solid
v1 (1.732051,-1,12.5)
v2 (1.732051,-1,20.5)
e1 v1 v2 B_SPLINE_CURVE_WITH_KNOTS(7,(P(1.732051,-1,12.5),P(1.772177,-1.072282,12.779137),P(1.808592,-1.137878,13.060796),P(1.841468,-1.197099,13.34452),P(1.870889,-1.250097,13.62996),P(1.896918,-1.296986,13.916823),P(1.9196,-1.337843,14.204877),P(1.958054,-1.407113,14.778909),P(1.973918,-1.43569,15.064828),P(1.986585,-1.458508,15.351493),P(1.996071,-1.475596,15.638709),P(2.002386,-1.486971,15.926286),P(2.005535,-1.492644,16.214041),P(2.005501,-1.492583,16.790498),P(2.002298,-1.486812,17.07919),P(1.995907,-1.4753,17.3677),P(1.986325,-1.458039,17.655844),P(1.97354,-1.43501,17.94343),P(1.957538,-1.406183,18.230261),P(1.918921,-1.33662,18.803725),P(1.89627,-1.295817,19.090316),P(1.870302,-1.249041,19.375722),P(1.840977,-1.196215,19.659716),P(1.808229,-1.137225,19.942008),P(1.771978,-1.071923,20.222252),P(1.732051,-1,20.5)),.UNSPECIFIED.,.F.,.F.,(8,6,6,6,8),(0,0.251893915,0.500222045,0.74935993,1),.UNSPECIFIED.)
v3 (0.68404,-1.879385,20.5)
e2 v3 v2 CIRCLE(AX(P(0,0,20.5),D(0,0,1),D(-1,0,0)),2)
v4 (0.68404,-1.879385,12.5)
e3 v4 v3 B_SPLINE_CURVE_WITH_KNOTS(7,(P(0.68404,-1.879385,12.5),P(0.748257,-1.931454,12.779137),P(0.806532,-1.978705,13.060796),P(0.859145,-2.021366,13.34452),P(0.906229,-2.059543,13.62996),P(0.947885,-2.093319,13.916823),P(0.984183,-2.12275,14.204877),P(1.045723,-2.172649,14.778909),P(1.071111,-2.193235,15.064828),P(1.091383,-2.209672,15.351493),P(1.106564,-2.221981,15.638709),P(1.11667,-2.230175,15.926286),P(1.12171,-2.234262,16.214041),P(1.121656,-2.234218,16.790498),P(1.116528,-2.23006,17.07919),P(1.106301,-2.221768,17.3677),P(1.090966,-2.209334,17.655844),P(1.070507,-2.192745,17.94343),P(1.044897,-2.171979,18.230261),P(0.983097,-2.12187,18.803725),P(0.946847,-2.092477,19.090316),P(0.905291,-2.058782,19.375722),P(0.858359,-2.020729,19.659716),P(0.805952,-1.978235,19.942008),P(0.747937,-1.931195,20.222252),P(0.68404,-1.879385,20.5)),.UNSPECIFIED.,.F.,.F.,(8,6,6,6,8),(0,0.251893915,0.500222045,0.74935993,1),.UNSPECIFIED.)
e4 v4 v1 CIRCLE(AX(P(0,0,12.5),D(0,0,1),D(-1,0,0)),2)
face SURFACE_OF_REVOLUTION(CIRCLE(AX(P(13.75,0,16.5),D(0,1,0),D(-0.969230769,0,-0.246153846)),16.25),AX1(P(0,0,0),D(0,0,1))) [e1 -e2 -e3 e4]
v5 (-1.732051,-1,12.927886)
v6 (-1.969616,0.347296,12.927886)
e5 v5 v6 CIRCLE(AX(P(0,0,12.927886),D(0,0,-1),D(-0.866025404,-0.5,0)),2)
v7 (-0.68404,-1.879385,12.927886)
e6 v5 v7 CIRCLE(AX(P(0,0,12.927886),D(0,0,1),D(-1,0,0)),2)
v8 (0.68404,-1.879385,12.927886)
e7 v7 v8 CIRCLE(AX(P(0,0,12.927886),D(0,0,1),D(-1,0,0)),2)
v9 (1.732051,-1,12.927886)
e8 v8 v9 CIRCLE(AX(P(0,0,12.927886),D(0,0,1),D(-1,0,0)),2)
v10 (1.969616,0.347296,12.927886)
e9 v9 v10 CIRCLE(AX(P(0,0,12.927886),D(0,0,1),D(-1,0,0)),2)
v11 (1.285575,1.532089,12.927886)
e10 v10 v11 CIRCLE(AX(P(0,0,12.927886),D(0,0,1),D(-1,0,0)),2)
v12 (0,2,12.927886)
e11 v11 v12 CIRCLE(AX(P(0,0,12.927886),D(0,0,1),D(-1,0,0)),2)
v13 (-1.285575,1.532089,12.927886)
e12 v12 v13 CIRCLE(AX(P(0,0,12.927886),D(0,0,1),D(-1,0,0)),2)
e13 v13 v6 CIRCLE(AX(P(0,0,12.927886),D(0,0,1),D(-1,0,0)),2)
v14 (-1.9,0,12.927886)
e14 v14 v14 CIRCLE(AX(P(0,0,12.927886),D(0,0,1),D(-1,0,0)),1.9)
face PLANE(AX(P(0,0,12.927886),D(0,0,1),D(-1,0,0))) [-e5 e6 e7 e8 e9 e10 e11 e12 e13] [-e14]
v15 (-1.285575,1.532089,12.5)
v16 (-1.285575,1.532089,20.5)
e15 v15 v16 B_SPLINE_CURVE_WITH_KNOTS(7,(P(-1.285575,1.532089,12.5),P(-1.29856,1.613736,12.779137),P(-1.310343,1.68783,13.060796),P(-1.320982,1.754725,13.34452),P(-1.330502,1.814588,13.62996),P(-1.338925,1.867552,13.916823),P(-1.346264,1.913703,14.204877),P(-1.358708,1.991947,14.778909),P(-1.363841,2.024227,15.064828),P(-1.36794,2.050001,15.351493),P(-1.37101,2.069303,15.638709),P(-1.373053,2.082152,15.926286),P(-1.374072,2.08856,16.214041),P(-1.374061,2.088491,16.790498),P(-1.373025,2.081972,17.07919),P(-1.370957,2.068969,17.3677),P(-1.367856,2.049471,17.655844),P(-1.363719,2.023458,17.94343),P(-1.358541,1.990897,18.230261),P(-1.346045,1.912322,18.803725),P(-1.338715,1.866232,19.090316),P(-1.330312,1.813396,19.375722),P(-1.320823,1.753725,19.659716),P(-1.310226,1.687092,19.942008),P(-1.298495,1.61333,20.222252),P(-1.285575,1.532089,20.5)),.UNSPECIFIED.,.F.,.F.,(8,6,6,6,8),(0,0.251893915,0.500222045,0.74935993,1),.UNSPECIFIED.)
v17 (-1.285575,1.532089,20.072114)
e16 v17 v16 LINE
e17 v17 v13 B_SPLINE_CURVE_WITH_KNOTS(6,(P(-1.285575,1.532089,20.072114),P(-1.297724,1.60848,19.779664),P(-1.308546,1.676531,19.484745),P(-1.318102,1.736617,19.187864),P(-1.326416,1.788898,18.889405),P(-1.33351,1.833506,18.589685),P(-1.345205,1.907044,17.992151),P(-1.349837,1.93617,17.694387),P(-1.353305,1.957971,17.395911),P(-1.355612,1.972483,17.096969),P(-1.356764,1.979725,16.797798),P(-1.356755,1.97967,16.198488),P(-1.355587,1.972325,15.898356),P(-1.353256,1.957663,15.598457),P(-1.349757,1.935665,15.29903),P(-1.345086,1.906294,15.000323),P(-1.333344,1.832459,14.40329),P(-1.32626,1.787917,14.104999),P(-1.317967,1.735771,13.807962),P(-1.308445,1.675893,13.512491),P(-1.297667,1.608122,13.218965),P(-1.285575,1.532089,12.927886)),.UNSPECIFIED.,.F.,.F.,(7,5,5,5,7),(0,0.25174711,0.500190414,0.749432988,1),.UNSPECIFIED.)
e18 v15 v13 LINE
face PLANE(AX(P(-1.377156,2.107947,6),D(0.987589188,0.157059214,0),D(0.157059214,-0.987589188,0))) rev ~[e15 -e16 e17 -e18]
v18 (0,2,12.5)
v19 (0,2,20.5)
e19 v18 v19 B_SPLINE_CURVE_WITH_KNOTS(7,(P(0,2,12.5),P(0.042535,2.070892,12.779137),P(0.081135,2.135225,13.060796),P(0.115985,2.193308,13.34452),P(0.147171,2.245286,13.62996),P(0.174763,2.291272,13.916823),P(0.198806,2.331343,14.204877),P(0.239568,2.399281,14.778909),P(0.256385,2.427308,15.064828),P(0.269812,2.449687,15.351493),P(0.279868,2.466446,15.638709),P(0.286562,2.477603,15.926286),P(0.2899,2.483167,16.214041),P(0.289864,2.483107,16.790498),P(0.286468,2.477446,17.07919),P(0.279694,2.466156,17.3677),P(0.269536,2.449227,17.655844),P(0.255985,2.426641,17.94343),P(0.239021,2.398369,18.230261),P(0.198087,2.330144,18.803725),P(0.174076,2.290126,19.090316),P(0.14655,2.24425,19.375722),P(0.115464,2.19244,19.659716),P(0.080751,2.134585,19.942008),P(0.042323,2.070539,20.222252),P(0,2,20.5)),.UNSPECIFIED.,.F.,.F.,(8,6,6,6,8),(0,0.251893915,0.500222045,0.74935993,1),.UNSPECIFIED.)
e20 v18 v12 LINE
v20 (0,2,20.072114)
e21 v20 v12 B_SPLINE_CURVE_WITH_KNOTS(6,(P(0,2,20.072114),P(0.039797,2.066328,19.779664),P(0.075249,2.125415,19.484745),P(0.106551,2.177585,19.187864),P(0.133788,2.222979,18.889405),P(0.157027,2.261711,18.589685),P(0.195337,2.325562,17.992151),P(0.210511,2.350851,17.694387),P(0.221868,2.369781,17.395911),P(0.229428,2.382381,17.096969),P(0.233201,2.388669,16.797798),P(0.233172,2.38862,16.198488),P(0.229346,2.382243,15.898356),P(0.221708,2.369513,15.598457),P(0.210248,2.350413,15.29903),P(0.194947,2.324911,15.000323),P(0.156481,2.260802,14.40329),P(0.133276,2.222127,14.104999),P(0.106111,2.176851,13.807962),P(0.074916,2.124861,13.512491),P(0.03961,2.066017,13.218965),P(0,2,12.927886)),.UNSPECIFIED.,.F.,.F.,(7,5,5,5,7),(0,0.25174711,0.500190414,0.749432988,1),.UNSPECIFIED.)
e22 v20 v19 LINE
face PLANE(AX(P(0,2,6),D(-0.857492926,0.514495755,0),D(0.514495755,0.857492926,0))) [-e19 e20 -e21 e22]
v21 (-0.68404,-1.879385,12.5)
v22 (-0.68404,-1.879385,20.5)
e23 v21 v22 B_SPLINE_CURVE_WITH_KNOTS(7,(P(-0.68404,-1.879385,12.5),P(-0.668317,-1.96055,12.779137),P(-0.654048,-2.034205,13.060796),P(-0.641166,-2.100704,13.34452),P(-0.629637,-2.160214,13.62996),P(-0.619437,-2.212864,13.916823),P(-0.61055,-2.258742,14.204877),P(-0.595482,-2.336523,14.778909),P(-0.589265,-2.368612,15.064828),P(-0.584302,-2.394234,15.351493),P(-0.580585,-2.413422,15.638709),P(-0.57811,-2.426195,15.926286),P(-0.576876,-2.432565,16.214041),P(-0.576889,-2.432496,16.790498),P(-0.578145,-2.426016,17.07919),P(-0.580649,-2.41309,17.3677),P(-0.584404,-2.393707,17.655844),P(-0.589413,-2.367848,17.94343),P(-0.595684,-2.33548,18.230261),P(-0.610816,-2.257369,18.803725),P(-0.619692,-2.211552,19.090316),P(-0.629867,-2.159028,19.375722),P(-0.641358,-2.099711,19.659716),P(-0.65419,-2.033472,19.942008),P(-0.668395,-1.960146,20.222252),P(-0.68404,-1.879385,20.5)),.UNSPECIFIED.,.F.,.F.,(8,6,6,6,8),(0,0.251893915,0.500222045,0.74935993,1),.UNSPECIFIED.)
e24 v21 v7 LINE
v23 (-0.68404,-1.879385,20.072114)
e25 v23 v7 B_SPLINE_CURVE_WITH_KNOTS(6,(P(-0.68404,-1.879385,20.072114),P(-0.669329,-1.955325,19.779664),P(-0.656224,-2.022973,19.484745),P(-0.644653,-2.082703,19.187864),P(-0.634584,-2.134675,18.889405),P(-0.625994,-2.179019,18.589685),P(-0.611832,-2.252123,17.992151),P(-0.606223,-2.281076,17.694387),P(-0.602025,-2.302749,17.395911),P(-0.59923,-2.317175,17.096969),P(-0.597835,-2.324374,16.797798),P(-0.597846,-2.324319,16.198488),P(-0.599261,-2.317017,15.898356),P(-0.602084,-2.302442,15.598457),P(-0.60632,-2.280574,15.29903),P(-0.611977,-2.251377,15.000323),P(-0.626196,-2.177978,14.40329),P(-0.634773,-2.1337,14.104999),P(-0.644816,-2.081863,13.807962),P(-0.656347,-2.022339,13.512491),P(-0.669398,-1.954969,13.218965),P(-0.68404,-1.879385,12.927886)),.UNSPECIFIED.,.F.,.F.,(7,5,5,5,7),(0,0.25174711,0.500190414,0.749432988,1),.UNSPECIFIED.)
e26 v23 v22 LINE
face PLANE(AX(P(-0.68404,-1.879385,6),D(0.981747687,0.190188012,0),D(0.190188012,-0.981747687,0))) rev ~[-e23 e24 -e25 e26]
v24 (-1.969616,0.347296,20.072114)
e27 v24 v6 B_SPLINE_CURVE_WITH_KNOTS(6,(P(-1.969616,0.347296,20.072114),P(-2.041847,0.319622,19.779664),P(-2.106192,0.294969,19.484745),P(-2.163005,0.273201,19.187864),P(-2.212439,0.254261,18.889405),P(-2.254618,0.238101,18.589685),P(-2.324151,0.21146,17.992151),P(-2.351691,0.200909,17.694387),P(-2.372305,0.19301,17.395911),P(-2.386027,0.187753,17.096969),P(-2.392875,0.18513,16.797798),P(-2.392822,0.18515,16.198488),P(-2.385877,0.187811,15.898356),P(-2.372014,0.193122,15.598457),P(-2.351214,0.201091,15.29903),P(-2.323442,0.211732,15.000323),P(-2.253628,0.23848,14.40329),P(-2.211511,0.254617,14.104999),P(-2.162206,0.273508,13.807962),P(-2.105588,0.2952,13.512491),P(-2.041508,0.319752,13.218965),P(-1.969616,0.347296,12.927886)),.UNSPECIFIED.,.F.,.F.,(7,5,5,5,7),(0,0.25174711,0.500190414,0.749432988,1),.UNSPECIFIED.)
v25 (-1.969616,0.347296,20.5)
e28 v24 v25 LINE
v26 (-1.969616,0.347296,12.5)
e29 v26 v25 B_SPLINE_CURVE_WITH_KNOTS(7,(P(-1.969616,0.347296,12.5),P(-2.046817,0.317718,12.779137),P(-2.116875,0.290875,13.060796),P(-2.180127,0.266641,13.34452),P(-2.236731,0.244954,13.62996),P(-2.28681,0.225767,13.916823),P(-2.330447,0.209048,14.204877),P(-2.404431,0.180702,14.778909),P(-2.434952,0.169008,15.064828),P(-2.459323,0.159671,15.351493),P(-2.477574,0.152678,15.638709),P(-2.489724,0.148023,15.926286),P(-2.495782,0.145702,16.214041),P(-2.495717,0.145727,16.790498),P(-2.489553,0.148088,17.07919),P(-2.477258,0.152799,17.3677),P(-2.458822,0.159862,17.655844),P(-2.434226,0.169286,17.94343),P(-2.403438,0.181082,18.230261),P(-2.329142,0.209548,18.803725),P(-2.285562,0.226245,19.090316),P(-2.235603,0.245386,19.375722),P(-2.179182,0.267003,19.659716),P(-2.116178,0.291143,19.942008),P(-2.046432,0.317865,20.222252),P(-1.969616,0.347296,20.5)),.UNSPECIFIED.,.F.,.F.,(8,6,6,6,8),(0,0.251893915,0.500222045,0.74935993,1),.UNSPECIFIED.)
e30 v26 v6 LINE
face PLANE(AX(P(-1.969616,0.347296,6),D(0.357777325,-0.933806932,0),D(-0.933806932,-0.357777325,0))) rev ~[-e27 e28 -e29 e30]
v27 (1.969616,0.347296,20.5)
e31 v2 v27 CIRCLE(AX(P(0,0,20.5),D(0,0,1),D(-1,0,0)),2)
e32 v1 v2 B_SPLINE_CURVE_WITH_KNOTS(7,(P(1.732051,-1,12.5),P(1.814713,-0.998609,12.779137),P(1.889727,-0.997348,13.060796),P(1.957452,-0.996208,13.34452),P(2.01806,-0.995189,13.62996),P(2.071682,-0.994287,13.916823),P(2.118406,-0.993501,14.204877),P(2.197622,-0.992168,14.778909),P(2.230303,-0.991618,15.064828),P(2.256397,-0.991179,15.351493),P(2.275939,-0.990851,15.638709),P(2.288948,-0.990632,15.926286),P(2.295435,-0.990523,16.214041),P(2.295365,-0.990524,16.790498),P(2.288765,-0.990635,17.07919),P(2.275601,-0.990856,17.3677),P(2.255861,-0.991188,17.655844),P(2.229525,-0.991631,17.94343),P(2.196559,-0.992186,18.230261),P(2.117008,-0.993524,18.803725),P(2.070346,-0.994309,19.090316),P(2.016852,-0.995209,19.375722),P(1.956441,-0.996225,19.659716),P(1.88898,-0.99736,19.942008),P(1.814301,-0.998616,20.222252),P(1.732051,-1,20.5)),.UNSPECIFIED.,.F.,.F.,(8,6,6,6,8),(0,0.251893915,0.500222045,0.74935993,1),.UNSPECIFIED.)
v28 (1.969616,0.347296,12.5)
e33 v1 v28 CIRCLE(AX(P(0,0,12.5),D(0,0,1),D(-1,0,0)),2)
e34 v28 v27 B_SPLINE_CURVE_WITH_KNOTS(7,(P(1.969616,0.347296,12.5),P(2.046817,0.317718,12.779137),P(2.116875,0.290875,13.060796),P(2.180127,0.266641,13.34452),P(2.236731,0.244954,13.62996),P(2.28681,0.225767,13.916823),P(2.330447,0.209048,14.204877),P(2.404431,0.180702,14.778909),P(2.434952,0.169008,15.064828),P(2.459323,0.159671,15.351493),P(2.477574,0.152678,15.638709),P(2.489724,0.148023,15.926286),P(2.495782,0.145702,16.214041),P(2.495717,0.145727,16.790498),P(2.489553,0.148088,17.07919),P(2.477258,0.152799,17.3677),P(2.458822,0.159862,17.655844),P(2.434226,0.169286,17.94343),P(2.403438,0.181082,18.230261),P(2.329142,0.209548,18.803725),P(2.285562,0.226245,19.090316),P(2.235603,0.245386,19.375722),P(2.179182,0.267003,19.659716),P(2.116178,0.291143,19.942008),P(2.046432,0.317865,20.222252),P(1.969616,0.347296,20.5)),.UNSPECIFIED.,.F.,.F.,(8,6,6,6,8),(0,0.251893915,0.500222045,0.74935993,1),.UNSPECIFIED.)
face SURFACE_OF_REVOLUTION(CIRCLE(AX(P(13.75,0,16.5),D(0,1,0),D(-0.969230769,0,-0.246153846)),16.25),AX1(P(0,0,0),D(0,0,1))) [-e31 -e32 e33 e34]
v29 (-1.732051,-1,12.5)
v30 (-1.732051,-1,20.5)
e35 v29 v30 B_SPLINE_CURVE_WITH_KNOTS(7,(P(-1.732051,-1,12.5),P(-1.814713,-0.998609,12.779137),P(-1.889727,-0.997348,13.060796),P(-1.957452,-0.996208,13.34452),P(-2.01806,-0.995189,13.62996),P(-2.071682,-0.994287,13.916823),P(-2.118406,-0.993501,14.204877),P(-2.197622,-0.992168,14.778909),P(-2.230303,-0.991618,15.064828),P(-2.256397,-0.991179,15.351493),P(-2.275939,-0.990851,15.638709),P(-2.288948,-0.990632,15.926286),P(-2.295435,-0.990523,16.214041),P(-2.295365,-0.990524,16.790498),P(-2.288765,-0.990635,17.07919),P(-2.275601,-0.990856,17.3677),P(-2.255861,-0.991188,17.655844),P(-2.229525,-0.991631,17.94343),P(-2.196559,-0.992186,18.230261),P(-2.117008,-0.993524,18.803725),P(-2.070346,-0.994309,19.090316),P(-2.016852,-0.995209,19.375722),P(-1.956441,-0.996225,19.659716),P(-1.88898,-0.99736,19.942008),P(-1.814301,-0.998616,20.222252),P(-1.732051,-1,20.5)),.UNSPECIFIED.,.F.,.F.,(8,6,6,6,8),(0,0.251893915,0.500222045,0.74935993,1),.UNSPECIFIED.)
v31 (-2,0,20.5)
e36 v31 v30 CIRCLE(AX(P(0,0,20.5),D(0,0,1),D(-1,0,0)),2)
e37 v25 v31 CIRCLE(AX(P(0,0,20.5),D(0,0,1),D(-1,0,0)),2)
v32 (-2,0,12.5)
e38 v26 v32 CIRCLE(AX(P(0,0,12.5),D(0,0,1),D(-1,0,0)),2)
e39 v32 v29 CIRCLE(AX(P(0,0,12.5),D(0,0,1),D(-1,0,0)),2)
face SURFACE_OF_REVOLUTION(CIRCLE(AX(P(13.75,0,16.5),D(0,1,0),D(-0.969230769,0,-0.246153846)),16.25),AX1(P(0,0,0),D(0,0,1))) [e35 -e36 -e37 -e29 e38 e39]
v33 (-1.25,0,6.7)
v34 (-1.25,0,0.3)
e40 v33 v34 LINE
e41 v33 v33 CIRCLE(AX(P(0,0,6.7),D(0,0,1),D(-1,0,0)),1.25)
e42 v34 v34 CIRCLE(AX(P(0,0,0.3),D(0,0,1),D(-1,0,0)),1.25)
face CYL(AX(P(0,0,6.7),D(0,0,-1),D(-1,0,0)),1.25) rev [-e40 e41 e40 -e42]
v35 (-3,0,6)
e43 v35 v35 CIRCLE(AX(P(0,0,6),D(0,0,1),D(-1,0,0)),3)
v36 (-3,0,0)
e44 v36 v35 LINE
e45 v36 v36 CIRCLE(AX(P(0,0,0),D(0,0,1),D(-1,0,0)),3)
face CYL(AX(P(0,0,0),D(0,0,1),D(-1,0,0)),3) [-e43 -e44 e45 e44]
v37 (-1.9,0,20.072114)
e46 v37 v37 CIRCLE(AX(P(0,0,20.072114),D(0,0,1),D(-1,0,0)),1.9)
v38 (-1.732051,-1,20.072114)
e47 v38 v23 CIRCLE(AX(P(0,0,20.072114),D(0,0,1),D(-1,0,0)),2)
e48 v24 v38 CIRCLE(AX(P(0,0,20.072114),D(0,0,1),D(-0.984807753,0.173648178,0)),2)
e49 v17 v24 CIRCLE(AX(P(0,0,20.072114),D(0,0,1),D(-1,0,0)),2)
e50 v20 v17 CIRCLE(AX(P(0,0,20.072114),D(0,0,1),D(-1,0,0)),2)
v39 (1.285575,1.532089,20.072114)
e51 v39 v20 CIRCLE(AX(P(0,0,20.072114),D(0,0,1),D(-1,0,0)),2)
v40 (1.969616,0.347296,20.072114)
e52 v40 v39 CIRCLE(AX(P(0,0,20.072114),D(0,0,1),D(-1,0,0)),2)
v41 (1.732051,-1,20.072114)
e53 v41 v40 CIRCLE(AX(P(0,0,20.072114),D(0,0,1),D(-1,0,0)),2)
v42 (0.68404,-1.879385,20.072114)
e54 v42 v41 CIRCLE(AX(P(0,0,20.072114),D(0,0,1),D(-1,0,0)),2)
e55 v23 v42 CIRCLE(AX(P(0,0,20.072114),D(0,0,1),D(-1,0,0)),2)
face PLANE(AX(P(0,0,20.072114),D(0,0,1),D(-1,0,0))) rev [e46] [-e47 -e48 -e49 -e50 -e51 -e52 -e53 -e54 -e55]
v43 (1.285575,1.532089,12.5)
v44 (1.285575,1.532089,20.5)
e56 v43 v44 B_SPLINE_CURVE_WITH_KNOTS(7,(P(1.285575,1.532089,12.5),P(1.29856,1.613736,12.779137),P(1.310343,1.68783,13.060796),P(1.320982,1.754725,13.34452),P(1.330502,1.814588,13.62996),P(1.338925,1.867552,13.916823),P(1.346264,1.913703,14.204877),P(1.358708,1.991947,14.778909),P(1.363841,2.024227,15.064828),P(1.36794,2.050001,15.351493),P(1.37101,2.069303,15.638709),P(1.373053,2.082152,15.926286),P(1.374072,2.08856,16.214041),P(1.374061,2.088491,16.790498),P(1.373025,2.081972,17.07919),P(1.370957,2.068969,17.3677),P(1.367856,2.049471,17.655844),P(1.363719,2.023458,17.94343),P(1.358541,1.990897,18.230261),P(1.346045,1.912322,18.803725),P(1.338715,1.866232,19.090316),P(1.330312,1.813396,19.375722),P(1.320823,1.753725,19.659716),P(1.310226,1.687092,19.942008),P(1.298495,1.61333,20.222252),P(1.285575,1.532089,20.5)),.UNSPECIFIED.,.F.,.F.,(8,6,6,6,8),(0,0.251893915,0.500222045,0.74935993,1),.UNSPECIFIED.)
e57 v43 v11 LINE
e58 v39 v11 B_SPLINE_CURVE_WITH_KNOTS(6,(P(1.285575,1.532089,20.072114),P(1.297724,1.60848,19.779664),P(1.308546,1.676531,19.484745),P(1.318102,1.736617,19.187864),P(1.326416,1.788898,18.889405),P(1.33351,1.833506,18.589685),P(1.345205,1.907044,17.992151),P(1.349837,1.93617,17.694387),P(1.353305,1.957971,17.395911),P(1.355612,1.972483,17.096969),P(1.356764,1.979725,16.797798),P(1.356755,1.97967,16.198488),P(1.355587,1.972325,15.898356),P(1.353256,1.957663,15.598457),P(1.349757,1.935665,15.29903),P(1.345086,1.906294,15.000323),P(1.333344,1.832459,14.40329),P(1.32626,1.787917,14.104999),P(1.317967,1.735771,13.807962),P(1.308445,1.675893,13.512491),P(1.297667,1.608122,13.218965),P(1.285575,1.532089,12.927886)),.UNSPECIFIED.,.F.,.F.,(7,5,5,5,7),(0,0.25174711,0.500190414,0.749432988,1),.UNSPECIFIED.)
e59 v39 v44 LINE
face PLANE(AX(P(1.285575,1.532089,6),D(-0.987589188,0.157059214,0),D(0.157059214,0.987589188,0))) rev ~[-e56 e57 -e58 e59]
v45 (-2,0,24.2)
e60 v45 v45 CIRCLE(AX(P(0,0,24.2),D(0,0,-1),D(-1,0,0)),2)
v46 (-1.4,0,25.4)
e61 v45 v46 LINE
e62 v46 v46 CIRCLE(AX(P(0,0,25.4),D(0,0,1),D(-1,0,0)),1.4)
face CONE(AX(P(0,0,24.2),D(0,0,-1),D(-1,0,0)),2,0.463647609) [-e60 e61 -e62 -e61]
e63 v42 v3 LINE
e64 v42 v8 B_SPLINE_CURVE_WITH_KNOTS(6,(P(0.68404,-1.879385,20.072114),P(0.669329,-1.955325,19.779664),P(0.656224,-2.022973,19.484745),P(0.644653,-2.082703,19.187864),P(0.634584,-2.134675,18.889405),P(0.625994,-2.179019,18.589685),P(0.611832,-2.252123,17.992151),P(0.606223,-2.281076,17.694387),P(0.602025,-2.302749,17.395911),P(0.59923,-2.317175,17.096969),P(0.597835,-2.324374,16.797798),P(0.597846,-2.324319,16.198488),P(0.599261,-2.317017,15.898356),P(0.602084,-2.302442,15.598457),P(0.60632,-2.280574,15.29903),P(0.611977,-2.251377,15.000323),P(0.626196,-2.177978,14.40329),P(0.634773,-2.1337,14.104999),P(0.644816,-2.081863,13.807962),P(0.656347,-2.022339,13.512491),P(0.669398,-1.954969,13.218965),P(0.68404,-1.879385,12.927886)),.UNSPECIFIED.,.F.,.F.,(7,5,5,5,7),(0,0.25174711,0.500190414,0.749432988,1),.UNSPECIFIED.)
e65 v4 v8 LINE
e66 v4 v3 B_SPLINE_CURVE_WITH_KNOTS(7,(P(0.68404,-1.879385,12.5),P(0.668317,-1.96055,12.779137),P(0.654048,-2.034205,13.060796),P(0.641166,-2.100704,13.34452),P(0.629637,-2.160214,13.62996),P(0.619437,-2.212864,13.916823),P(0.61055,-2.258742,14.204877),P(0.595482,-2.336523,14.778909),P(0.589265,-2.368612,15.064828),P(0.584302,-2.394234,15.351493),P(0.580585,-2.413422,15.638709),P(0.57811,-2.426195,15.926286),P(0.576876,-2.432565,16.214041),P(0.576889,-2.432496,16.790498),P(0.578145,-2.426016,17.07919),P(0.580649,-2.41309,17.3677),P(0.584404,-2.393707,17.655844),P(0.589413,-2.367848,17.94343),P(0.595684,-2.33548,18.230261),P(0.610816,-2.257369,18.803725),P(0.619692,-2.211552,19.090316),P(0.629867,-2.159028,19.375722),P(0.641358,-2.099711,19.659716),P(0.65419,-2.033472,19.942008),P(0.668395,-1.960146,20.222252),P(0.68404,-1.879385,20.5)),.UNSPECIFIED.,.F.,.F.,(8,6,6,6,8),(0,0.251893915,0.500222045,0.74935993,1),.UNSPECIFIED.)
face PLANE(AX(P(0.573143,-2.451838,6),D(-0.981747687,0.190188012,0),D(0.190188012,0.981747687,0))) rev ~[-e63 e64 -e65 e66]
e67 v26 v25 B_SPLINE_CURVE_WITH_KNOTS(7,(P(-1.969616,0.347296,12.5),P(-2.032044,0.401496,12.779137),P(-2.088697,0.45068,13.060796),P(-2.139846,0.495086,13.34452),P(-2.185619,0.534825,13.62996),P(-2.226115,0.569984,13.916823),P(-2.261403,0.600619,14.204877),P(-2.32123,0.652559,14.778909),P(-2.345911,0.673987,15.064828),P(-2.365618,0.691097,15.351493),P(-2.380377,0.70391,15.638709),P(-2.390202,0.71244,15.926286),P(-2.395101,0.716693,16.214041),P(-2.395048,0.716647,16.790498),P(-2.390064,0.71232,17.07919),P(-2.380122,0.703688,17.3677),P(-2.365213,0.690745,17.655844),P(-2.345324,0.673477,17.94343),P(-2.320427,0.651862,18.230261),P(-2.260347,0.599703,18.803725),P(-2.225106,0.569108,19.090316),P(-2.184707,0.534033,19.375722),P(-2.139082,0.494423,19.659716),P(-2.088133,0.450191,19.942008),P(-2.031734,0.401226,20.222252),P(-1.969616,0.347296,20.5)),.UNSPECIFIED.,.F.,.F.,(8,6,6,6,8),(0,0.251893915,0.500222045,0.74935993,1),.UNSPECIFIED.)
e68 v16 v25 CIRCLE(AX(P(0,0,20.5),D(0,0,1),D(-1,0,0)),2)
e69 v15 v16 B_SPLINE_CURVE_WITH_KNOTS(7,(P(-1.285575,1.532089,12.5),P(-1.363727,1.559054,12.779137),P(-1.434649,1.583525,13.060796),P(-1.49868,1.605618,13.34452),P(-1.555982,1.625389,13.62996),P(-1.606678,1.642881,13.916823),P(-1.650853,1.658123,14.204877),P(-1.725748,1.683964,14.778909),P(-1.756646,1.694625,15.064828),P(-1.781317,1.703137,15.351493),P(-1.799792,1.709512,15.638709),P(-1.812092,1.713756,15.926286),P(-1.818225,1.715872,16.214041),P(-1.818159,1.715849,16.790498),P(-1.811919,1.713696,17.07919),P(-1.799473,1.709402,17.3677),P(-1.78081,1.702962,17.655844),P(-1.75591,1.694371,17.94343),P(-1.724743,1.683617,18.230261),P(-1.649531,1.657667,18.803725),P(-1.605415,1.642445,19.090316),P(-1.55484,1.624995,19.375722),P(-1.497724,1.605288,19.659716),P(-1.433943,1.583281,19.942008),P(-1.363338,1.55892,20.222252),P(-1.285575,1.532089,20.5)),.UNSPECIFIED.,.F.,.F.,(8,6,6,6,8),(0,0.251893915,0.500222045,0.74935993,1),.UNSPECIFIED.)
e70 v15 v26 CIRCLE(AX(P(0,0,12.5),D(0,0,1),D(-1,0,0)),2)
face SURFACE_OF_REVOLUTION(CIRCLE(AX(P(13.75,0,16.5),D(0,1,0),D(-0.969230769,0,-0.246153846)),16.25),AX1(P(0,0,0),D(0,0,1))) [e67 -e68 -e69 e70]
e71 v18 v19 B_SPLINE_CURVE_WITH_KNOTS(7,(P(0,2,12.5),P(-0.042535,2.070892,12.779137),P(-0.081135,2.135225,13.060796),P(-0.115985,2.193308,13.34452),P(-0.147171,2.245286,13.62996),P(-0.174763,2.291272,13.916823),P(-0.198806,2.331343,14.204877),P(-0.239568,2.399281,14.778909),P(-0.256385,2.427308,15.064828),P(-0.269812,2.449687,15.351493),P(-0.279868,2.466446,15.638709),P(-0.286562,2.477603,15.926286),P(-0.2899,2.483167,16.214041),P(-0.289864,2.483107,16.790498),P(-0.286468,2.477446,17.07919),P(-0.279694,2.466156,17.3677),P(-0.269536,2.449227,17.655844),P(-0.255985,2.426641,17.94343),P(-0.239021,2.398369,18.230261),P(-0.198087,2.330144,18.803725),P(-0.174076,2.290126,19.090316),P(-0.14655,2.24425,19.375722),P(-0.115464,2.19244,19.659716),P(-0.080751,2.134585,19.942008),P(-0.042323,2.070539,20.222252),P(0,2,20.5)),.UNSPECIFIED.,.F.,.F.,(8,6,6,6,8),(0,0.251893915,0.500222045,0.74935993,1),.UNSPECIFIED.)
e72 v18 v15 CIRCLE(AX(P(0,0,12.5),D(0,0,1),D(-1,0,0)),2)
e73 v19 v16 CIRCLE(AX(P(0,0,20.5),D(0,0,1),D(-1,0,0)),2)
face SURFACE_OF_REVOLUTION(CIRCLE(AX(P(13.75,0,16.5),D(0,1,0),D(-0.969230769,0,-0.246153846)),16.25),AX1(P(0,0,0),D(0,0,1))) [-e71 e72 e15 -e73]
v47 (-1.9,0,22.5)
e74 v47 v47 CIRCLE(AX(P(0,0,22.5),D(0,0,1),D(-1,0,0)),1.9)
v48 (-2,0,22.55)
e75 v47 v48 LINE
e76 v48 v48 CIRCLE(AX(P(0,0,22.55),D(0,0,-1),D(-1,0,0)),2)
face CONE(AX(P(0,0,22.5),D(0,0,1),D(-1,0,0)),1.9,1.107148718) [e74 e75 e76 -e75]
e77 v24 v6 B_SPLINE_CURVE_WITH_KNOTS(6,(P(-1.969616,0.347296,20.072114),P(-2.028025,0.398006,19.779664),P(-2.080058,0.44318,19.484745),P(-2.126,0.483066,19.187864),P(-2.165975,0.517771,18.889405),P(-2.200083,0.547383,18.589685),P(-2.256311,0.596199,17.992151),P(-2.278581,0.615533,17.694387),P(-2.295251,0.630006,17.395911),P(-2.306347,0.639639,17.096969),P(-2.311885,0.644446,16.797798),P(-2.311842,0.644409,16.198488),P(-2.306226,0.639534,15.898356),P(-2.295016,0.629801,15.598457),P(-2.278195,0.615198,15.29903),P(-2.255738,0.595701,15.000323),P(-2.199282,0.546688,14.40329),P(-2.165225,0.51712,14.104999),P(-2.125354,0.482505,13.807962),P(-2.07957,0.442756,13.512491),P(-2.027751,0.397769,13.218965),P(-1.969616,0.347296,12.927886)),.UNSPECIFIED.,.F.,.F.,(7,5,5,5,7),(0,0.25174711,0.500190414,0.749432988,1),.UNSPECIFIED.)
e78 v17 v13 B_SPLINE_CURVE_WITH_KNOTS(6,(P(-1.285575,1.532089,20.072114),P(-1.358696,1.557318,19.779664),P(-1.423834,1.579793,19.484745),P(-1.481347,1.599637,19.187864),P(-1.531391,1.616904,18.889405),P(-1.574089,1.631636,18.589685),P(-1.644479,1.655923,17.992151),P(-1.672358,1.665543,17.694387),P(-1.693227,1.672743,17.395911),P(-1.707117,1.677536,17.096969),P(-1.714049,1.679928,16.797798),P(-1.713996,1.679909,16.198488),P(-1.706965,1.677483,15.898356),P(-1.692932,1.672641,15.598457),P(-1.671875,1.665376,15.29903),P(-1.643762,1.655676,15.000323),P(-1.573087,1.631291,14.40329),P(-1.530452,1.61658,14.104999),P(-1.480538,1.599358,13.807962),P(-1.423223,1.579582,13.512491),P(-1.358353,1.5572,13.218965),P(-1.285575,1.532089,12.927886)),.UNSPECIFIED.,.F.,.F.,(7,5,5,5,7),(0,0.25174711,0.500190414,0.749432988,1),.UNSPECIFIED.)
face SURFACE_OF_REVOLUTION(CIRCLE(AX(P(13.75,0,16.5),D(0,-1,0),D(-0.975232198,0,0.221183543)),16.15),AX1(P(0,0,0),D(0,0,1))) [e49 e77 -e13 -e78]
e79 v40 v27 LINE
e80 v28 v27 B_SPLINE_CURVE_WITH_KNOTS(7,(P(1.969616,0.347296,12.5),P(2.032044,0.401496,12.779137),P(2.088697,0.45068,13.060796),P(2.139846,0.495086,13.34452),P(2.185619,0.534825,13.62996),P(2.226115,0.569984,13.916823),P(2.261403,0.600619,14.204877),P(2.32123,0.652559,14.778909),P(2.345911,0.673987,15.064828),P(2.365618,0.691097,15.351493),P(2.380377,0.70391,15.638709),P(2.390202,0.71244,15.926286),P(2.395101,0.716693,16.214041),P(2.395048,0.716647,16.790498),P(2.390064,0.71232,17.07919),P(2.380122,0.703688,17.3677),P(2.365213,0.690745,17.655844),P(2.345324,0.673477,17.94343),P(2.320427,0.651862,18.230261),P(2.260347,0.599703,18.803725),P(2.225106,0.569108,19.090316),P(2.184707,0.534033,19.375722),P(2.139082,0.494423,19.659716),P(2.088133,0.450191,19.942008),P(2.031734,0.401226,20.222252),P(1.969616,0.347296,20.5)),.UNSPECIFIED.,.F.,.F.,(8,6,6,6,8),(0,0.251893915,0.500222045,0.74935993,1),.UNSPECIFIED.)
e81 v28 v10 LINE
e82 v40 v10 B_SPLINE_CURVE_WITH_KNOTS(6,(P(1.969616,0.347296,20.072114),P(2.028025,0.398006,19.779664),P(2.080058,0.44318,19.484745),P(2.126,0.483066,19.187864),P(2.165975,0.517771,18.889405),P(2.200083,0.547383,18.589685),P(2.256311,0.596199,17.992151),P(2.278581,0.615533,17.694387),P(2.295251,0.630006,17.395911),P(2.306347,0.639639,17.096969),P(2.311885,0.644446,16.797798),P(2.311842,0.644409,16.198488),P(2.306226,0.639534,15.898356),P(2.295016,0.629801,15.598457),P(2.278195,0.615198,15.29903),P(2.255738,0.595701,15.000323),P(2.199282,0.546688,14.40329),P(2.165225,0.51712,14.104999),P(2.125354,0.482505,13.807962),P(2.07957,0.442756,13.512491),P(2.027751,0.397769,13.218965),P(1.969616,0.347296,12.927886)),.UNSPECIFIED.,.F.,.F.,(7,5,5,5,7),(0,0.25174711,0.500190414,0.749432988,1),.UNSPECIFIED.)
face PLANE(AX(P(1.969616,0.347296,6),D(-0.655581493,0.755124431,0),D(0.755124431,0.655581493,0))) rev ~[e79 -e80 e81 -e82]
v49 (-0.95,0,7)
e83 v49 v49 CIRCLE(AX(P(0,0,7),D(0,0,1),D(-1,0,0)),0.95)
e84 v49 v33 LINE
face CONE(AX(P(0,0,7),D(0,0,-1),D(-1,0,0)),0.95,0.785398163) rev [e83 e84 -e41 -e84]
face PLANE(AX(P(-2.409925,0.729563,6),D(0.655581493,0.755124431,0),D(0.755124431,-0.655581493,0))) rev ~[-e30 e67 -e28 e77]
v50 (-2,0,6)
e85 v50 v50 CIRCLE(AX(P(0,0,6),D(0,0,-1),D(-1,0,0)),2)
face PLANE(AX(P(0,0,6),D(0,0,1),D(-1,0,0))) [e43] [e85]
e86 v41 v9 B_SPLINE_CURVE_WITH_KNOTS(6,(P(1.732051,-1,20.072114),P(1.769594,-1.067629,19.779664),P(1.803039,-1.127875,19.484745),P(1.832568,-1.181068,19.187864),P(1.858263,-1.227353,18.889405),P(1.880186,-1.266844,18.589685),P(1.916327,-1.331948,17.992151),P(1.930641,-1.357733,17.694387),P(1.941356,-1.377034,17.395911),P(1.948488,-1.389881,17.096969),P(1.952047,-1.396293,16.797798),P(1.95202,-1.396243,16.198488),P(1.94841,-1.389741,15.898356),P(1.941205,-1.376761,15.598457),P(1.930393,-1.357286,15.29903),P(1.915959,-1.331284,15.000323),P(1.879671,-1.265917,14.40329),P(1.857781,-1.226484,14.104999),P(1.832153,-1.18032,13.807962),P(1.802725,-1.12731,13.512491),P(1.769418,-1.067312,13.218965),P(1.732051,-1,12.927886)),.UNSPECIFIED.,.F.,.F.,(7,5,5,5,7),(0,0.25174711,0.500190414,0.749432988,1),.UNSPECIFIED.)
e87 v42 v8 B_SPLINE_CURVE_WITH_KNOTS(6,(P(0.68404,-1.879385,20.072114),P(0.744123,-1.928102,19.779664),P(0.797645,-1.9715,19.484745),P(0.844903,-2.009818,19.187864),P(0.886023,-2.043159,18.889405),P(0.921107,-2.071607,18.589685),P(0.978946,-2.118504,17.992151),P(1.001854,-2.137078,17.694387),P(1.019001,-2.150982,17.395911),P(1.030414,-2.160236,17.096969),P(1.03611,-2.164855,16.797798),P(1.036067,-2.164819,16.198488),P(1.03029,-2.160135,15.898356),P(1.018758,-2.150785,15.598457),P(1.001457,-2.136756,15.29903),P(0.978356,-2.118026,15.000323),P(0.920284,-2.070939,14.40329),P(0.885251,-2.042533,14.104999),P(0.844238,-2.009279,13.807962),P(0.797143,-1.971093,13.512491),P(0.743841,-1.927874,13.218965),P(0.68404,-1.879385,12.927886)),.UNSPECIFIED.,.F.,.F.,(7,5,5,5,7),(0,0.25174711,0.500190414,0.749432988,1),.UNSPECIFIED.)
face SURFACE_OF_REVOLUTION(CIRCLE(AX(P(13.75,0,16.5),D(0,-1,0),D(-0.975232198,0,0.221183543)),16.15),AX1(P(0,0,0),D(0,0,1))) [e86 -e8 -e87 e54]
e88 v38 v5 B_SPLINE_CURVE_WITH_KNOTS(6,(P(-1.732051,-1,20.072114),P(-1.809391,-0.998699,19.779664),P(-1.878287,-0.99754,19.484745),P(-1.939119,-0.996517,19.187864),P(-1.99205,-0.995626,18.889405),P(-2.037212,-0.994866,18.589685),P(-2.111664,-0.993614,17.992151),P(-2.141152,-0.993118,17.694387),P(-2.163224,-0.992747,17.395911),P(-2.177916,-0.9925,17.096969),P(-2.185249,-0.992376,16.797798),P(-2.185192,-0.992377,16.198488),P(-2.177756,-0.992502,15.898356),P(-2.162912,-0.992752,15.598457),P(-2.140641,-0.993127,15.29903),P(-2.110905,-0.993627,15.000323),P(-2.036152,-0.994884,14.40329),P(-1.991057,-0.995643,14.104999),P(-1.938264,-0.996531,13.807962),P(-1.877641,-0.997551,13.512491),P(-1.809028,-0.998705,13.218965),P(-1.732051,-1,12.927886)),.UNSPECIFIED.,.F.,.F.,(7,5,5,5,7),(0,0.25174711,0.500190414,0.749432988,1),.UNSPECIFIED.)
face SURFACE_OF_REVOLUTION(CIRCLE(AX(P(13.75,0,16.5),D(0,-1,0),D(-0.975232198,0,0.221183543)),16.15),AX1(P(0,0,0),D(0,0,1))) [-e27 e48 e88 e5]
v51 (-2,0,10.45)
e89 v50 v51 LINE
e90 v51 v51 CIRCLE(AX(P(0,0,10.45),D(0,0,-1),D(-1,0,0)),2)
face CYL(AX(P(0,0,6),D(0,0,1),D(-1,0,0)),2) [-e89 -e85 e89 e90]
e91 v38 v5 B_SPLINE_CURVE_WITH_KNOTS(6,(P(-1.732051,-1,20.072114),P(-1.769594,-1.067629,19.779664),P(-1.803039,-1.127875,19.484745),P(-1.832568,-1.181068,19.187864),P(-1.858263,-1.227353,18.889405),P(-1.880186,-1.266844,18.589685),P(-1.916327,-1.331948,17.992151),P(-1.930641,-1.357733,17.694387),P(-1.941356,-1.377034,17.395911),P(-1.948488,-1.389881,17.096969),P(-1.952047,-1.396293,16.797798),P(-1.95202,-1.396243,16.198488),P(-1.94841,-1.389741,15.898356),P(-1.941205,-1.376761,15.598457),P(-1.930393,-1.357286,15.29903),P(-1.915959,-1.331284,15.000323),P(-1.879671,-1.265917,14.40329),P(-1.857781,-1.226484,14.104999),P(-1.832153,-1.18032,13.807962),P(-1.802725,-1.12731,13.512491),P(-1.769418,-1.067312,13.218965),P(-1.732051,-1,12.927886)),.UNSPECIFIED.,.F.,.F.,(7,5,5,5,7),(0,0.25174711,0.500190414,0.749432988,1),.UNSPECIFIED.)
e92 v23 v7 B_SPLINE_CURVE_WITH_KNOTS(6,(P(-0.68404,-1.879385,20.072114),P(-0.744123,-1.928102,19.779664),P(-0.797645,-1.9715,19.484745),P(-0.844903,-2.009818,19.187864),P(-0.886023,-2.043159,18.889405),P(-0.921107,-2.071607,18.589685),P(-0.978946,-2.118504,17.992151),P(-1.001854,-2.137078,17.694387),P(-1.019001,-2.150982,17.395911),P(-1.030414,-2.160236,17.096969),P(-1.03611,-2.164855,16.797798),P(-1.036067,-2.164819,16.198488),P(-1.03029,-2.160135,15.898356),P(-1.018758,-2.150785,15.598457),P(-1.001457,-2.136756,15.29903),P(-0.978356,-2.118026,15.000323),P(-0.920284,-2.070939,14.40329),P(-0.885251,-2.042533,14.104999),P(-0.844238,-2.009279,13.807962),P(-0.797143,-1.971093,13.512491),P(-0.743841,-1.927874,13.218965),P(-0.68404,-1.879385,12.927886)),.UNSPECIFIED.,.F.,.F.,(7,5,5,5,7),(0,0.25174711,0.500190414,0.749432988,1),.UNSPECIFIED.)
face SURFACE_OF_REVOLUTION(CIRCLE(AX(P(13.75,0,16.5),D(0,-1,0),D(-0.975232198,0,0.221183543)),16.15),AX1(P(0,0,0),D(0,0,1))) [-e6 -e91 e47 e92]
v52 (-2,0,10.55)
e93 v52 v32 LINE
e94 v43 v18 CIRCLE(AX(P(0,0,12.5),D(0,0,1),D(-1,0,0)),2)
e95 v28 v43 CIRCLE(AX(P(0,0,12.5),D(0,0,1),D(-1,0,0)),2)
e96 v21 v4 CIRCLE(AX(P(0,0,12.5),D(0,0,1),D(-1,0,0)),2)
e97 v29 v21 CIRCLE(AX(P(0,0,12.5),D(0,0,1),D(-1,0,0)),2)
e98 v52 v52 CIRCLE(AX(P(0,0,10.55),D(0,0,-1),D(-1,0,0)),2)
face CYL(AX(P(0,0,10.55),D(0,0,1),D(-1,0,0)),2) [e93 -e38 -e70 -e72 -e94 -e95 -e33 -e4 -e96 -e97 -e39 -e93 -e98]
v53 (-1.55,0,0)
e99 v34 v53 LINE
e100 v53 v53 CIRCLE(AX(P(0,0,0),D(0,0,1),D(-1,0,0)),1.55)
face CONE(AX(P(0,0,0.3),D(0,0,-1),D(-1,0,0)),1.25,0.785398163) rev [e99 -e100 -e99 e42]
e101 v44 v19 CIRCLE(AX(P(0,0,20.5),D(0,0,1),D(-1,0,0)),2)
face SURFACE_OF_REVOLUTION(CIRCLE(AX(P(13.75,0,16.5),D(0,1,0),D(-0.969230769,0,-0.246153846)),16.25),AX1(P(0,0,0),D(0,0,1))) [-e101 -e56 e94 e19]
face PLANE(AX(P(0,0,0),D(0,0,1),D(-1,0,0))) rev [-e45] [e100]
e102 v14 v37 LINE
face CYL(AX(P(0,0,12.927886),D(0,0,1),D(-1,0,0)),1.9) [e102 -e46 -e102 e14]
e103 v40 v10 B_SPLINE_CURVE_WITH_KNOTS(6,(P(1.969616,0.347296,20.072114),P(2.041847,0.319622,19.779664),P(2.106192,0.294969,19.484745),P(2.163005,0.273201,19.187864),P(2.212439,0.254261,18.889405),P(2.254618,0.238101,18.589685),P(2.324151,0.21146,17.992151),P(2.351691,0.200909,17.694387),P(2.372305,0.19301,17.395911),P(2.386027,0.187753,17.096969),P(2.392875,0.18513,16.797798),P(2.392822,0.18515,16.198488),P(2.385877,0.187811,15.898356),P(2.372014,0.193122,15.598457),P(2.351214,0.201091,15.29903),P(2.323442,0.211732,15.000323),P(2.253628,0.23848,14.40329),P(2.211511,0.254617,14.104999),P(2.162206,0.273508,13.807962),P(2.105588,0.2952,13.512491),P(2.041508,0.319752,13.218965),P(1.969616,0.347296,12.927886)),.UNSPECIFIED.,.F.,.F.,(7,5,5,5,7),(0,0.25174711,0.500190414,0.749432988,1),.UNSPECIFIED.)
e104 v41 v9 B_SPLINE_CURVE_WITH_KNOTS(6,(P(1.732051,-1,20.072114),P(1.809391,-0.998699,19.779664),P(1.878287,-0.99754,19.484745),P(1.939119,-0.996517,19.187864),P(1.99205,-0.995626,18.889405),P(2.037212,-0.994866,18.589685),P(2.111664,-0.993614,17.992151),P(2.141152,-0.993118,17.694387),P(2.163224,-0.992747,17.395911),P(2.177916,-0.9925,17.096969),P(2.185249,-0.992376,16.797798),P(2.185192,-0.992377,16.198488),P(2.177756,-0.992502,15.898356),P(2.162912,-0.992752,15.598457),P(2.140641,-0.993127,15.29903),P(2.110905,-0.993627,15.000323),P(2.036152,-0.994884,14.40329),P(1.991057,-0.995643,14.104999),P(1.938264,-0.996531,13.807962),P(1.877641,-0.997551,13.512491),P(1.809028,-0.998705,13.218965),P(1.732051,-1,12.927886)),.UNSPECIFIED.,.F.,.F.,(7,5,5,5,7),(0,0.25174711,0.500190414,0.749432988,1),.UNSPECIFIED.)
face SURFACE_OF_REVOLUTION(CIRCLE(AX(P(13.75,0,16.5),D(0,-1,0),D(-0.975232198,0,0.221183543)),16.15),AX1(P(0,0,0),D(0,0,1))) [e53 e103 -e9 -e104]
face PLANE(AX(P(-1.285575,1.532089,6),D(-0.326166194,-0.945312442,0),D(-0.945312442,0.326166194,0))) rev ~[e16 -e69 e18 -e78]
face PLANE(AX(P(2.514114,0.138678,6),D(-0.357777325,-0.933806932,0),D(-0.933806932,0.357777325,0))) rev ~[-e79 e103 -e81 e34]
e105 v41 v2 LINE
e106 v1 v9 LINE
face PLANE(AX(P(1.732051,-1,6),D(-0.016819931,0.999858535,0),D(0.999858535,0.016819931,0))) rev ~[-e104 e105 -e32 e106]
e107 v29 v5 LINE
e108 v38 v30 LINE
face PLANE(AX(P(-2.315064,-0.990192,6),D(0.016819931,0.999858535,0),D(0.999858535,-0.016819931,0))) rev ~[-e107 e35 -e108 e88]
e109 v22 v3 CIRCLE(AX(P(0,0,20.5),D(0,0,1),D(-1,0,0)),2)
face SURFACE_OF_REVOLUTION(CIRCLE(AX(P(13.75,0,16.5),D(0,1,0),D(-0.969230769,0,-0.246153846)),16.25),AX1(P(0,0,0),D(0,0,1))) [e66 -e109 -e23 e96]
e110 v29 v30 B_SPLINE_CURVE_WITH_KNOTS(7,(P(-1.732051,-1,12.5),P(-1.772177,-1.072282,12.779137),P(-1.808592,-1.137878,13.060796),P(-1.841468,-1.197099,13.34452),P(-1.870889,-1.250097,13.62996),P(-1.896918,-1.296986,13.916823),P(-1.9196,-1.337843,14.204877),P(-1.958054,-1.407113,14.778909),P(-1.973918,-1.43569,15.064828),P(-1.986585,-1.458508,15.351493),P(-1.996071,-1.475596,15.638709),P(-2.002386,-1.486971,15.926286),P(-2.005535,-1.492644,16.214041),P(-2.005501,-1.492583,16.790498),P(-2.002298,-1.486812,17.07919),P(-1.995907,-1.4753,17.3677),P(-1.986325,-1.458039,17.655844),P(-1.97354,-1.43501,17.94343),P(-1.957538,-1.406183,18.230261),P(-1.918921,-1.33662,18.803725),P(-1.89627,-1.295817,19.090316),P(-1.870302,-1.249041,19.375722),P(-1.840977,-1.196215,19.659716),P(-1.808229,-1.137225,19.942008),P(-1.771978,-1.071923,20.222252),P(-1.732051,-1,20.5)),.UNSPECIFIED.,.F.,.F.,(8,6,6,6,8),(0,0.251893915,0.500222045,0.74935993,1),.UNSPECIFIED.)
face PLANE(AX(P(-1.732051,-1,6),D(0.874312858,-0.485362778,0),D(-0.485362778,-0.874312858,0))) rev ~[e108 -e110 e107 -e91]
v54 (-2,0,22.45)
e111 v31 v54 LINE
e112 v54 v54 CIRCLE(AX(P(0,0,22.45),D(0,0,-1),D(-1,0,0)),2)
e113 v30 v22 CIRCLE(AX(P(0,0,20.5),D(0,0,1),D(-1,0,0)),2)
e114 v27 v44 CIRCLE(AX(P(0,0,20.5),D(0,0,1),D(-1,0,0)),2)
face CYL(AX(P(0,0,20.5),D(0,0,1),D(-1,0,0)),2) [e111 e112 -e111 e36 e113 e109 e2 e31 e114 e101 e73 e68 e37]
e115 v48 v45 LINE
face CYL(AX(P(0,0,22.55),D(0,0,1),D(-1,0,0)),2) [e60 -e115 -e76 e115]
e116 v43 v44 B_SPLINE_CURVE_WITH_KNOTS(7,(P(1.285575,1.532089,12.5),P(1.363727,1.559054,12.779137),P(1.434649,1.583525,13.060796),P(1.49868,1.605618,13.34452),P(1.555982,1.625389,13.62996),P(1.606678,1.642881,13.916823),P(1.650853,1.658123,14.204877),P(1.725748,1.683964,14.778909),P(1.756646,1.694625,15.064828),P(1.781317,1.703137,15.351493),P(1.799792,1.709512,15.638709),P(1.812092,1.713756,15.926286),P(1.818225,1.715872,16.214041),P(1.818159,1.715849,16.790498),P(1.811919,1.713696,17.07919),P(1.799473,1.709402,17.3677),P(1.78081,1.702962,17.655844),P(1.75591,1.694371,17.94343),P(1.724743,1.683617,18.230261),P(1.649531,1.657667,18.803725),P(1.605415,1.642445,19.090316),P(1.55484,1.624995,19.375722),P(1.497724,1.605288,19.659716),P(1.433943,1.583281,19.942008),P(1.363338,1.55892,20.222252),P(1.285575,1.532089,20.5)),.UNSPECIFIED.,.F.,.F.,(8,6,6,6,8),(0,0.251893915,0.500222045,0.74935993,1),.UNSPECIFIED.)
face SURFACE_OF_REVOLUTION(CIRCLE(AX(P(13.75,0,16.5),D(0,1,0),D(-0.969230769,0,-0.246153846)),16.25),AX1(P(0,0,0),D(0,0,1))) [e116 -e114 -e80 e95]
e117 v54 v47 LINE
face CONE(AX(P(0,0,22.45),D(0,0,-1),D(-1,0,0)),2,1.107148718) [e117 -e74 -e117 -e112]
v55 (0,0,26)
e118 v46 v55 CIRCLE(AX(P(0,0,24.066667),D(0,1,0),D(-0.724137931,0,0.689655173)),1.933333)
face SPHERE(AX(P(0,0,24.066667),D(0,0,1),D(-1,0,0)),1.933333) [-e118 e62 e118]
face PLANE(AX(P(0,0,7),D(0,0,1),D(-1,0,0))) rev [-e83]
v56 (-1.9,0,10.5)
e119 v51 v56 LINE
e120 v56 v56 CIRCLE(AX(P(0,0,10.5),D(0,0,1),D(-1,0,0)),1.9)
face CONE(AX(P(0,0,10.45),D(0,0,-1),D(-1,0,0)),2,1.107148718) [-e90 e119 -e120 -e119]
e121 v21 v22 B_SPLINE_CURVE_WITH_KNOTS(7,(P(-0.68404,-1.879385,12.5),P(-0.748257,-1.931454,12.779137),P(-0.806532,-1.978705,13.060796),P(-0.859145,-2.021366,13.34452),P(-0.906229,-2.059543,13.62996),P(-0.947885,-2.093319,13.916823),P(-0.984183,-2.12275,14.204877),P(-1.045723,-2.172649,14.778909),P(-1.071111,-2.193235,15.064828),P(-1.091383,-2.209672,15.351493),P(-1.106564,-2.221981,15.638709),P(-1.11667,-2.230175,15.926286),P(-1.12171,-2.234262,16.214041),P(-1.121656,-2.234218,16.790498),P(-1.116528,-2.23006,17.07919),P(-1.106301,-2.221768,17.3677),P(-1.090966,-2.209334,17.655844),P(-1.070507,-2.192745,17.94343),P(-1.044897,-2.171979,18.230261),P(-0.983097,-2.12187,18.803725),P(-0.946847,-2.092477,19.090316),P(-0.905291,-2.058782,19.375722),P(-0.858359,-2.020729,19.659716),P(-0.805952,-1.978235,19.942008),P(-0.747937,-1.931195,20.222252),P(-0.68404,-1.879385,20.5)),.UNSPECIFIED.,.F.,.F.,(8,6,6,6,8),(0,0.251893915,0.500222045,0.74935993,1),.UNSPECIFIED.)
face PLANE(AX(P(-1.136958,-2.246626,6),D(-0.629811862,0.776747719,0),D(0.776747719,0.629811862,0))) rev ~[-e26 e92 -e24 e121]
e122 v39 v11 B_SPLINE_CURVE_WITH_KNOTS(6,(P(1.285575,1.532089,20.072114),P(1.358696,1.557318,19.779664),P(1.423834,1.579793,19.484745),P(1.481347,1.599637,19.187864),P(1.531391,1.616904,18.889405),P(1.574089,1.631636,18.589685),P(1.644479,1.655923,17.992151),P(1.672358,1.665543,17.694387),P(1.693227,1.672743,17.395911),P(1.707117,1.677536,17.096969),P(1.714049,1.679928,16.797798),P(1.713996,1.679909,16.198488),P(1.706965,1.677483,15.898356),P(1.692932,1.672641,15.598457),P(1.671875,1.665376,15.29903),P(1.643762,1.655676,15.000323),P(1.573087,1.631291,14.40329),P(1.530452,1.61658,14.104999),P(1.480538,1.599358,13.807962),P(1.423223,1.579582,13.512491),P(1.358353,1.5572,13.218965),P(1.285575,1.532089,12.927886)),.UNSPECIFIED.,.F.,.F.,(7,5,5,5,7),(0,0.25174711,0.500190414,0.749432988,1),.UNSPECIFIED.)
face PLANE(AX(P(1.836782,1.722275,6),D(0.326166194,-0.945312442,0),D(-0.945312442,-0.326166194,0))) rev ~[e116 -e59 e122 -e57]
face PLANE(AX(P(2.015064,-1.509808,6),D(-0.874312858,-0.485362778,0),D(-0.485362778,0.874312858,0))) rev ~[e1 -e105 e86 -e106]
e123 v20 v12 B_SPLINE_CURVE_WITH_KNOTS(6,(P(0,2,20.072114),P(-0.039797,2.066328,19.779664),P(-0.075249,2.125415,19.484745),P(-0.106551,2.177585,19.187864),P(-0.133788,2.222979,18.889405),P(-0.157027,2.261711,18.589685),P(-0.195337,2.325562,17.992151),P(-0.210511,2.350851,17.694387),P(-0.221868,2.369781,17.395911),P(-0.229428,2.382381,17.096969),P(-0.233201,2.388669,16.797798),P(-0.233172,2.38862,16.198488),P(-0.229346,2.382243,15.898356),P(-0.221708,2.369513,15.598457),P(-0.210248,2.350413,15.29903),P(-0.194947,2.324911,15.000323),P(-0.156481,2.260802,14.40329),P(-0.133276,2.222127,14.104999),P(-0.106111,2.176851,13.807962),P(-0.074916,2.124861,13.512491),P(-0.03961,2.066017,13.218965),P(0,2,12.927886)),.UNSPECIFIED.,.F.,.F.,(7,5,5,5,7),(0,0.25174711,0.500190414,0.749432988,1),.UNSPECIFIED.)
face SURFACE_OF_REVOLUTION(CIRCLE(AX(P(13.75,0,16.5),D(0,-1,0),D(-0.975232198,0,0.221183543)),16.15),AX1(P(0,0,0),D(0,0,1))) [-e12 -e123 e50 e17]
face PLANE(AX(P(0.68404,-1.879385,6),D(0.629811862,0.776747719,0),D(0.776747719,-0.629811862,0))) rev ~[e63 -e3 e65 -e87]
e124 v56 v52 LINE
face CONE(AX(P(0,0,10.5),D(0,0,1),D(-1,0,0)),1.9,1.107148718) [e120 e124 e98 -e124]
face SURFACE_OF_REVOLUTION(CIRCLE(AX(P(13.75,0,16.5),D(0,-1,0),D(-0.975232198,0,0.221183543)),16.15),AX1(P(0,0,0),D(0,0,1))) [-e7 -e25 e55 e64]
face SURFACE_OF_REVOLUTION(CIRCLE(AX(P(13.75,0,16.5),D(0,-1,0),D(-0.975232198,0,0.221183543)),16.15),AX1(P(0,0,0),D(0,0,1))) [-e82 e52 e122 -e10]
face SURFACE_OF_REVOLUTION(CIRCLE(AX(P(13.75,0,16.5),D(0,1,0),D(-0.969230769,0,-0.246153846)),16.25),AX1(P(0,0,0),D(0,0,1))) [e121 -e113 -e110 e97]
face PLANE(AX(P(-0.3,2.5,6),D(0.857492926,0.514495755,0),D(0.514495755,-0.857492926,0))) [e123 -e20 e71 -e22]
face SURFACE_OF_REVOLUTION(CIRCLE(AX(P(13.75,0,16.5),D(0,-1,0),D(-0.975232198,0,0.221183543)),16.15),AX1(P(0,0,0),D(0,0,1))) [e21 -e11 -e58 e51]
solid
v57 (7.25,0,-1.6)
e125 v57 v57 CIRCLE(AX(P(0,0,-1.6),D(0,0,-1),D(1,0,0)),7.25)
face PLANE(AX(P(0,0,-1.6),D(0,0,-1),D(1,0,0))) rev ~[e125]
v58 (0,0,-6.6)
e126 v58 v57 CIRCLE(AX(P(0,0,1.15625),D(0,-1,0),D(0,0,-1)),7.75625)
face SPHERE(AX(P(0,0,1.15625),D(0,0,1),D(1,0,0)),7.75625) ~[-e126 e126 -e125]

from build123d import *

# Parameters (mm, degrees)
ENL_V_START             = 6
ENL_V_MAT_EXTRU_2_DEPTH = 21.343879745


with BuildPart() as part:
    # Esquisse1 → base (revolve)
    with BuildSketch(Plane(origin=(0, 0, 0), x_dir=(0, 0, -1), z_dir=(1, 0, 0)), mode=Mode.PRIVATE) as base_sk:
        with BuildLine():
            Line((0, 1.55), (0, 3))
            Line((0, 3), (-6, 3))
            Line((-6, 3), (-6, 2))
            Line((-6, 2), (-10.45, 2))
            Line((-10.45, 2), (-10.5, 1.9))
            Line((-10.5, 1.9), (-10.55, 2))
            Line((-10.55, 2), (-12.5, 2))
            ThreePointArc((-12.5, 2), (-16.5, 2.5), (-20.5, 2))
            Line((-20.5, 2), (-22.45, 2))
            Line((-22.45, 2), (-22.5, 1.9))
            Line((-22.5, 1.9), (-22.55, 2))
            Line((-22.55, 2), (-24.2, 2))
            Line((-24.2, 2), (-25.4, 1.4))
            ThreePointArc((-25.4, 1.4), (-25.843680391, 0.761577311), (-26, 0))
            Line((-26, 0), (-7, 0))
            Line((-7, 0), (-7, 0.95))
            Line((-7, 0.95), (-6.7, 1.25))
            Line((-6.7, 1.25), (-0.3, 1.25))
            Line((-0.3, 1.25), (0, 1.55))
        make_face()
        with BuildLine():
            Line((-12.92788578, 2), (-12.92788578, 1.9))
            Line((-12.92788578, 1.9), (-20.07211422, 1.9))
            Line((-20.07211422, 1.9), (-20.07211422, 2))
            ThreePointArc((-20.07211422, 2), (-16.5, 2.4), (-12.92788578, 2))
        make_face(mode=Mode.SUBTRACT)
    revolve(base_sk.sketch.rotate(Axis((0, 0, 0), (0, 0, 1)), 90), axis=Axis((0, 0, 0), (0, 0, 1)))

    # Esquisse2 → Enlèv. mat.-Extru.2 (cut, through all)
    with BuildSketch(Plane.XY.offset(ENL_V_START)):
        Polygon((0.3, 2.5), (-0.3, 2.5), (0, 2), align=None)
        Polygon((1.836782357, 1.722274825), (1.285575219, 1.532088886), (1.377155691, 2.107947391), align=None)
        Polygon((2.514113836, 0.138678118), (1.969615506, 0.347296355), (2.409924929, 0.72956277), align=None)
        Polygon((2.015063509, -1.509807621), (1.732050808, -1), (2.315063509, -0.990192379), align=None)
        Polygon((0.573142572, -2.451837595), (0.684040287, -1.879385242), (1.136958145, -2.246625509), align=None)
        Polygon((-1.136958145, -2.246625509), (-0.684040287, -1.879385242), (-0.573142572, -2.451837595), align=None)
        Polygon((-2.315063509, -0.990192379), (-1.732050808, -1), (-2.015063509, -1.509807621), align=None)
        Polygon((-2.409924929, 0.72956277), (-1.969615506, 0.347296355), (-2.514113836, 0.138678118), align=None)
        Polygon((-1.377155691, 2.107947391), (-1.285575219, 1.532088886), (-1.836782357, 1.722274825), align=None)
    extrude(amount=ENL_V_MAT_EXTRU_2_DEPTH, mode=Mode.SUBTRACT)


with BuildPart() as body_2:
    # Esquisse3 → Révolution1 (revolve)
    with BuildSketch(Plane(origin=(0, 0, 0), x_dir=(1, 0, 0), z_dir=(0, 1, 0))):
        with BuildLine():
            Line((7.25, 1.6), (0, 1.6))
            Line((0, 1.6), (0, 6.6))
            ThreePointArc((0, 6.6), (4.403478738, 5.228794171), (7.25, 1.6))
        make_face()
    revolve(axis=Axis((0, 0, 0), (0, 0, -1)))


solid = Compound([part.part, body_2.part])
